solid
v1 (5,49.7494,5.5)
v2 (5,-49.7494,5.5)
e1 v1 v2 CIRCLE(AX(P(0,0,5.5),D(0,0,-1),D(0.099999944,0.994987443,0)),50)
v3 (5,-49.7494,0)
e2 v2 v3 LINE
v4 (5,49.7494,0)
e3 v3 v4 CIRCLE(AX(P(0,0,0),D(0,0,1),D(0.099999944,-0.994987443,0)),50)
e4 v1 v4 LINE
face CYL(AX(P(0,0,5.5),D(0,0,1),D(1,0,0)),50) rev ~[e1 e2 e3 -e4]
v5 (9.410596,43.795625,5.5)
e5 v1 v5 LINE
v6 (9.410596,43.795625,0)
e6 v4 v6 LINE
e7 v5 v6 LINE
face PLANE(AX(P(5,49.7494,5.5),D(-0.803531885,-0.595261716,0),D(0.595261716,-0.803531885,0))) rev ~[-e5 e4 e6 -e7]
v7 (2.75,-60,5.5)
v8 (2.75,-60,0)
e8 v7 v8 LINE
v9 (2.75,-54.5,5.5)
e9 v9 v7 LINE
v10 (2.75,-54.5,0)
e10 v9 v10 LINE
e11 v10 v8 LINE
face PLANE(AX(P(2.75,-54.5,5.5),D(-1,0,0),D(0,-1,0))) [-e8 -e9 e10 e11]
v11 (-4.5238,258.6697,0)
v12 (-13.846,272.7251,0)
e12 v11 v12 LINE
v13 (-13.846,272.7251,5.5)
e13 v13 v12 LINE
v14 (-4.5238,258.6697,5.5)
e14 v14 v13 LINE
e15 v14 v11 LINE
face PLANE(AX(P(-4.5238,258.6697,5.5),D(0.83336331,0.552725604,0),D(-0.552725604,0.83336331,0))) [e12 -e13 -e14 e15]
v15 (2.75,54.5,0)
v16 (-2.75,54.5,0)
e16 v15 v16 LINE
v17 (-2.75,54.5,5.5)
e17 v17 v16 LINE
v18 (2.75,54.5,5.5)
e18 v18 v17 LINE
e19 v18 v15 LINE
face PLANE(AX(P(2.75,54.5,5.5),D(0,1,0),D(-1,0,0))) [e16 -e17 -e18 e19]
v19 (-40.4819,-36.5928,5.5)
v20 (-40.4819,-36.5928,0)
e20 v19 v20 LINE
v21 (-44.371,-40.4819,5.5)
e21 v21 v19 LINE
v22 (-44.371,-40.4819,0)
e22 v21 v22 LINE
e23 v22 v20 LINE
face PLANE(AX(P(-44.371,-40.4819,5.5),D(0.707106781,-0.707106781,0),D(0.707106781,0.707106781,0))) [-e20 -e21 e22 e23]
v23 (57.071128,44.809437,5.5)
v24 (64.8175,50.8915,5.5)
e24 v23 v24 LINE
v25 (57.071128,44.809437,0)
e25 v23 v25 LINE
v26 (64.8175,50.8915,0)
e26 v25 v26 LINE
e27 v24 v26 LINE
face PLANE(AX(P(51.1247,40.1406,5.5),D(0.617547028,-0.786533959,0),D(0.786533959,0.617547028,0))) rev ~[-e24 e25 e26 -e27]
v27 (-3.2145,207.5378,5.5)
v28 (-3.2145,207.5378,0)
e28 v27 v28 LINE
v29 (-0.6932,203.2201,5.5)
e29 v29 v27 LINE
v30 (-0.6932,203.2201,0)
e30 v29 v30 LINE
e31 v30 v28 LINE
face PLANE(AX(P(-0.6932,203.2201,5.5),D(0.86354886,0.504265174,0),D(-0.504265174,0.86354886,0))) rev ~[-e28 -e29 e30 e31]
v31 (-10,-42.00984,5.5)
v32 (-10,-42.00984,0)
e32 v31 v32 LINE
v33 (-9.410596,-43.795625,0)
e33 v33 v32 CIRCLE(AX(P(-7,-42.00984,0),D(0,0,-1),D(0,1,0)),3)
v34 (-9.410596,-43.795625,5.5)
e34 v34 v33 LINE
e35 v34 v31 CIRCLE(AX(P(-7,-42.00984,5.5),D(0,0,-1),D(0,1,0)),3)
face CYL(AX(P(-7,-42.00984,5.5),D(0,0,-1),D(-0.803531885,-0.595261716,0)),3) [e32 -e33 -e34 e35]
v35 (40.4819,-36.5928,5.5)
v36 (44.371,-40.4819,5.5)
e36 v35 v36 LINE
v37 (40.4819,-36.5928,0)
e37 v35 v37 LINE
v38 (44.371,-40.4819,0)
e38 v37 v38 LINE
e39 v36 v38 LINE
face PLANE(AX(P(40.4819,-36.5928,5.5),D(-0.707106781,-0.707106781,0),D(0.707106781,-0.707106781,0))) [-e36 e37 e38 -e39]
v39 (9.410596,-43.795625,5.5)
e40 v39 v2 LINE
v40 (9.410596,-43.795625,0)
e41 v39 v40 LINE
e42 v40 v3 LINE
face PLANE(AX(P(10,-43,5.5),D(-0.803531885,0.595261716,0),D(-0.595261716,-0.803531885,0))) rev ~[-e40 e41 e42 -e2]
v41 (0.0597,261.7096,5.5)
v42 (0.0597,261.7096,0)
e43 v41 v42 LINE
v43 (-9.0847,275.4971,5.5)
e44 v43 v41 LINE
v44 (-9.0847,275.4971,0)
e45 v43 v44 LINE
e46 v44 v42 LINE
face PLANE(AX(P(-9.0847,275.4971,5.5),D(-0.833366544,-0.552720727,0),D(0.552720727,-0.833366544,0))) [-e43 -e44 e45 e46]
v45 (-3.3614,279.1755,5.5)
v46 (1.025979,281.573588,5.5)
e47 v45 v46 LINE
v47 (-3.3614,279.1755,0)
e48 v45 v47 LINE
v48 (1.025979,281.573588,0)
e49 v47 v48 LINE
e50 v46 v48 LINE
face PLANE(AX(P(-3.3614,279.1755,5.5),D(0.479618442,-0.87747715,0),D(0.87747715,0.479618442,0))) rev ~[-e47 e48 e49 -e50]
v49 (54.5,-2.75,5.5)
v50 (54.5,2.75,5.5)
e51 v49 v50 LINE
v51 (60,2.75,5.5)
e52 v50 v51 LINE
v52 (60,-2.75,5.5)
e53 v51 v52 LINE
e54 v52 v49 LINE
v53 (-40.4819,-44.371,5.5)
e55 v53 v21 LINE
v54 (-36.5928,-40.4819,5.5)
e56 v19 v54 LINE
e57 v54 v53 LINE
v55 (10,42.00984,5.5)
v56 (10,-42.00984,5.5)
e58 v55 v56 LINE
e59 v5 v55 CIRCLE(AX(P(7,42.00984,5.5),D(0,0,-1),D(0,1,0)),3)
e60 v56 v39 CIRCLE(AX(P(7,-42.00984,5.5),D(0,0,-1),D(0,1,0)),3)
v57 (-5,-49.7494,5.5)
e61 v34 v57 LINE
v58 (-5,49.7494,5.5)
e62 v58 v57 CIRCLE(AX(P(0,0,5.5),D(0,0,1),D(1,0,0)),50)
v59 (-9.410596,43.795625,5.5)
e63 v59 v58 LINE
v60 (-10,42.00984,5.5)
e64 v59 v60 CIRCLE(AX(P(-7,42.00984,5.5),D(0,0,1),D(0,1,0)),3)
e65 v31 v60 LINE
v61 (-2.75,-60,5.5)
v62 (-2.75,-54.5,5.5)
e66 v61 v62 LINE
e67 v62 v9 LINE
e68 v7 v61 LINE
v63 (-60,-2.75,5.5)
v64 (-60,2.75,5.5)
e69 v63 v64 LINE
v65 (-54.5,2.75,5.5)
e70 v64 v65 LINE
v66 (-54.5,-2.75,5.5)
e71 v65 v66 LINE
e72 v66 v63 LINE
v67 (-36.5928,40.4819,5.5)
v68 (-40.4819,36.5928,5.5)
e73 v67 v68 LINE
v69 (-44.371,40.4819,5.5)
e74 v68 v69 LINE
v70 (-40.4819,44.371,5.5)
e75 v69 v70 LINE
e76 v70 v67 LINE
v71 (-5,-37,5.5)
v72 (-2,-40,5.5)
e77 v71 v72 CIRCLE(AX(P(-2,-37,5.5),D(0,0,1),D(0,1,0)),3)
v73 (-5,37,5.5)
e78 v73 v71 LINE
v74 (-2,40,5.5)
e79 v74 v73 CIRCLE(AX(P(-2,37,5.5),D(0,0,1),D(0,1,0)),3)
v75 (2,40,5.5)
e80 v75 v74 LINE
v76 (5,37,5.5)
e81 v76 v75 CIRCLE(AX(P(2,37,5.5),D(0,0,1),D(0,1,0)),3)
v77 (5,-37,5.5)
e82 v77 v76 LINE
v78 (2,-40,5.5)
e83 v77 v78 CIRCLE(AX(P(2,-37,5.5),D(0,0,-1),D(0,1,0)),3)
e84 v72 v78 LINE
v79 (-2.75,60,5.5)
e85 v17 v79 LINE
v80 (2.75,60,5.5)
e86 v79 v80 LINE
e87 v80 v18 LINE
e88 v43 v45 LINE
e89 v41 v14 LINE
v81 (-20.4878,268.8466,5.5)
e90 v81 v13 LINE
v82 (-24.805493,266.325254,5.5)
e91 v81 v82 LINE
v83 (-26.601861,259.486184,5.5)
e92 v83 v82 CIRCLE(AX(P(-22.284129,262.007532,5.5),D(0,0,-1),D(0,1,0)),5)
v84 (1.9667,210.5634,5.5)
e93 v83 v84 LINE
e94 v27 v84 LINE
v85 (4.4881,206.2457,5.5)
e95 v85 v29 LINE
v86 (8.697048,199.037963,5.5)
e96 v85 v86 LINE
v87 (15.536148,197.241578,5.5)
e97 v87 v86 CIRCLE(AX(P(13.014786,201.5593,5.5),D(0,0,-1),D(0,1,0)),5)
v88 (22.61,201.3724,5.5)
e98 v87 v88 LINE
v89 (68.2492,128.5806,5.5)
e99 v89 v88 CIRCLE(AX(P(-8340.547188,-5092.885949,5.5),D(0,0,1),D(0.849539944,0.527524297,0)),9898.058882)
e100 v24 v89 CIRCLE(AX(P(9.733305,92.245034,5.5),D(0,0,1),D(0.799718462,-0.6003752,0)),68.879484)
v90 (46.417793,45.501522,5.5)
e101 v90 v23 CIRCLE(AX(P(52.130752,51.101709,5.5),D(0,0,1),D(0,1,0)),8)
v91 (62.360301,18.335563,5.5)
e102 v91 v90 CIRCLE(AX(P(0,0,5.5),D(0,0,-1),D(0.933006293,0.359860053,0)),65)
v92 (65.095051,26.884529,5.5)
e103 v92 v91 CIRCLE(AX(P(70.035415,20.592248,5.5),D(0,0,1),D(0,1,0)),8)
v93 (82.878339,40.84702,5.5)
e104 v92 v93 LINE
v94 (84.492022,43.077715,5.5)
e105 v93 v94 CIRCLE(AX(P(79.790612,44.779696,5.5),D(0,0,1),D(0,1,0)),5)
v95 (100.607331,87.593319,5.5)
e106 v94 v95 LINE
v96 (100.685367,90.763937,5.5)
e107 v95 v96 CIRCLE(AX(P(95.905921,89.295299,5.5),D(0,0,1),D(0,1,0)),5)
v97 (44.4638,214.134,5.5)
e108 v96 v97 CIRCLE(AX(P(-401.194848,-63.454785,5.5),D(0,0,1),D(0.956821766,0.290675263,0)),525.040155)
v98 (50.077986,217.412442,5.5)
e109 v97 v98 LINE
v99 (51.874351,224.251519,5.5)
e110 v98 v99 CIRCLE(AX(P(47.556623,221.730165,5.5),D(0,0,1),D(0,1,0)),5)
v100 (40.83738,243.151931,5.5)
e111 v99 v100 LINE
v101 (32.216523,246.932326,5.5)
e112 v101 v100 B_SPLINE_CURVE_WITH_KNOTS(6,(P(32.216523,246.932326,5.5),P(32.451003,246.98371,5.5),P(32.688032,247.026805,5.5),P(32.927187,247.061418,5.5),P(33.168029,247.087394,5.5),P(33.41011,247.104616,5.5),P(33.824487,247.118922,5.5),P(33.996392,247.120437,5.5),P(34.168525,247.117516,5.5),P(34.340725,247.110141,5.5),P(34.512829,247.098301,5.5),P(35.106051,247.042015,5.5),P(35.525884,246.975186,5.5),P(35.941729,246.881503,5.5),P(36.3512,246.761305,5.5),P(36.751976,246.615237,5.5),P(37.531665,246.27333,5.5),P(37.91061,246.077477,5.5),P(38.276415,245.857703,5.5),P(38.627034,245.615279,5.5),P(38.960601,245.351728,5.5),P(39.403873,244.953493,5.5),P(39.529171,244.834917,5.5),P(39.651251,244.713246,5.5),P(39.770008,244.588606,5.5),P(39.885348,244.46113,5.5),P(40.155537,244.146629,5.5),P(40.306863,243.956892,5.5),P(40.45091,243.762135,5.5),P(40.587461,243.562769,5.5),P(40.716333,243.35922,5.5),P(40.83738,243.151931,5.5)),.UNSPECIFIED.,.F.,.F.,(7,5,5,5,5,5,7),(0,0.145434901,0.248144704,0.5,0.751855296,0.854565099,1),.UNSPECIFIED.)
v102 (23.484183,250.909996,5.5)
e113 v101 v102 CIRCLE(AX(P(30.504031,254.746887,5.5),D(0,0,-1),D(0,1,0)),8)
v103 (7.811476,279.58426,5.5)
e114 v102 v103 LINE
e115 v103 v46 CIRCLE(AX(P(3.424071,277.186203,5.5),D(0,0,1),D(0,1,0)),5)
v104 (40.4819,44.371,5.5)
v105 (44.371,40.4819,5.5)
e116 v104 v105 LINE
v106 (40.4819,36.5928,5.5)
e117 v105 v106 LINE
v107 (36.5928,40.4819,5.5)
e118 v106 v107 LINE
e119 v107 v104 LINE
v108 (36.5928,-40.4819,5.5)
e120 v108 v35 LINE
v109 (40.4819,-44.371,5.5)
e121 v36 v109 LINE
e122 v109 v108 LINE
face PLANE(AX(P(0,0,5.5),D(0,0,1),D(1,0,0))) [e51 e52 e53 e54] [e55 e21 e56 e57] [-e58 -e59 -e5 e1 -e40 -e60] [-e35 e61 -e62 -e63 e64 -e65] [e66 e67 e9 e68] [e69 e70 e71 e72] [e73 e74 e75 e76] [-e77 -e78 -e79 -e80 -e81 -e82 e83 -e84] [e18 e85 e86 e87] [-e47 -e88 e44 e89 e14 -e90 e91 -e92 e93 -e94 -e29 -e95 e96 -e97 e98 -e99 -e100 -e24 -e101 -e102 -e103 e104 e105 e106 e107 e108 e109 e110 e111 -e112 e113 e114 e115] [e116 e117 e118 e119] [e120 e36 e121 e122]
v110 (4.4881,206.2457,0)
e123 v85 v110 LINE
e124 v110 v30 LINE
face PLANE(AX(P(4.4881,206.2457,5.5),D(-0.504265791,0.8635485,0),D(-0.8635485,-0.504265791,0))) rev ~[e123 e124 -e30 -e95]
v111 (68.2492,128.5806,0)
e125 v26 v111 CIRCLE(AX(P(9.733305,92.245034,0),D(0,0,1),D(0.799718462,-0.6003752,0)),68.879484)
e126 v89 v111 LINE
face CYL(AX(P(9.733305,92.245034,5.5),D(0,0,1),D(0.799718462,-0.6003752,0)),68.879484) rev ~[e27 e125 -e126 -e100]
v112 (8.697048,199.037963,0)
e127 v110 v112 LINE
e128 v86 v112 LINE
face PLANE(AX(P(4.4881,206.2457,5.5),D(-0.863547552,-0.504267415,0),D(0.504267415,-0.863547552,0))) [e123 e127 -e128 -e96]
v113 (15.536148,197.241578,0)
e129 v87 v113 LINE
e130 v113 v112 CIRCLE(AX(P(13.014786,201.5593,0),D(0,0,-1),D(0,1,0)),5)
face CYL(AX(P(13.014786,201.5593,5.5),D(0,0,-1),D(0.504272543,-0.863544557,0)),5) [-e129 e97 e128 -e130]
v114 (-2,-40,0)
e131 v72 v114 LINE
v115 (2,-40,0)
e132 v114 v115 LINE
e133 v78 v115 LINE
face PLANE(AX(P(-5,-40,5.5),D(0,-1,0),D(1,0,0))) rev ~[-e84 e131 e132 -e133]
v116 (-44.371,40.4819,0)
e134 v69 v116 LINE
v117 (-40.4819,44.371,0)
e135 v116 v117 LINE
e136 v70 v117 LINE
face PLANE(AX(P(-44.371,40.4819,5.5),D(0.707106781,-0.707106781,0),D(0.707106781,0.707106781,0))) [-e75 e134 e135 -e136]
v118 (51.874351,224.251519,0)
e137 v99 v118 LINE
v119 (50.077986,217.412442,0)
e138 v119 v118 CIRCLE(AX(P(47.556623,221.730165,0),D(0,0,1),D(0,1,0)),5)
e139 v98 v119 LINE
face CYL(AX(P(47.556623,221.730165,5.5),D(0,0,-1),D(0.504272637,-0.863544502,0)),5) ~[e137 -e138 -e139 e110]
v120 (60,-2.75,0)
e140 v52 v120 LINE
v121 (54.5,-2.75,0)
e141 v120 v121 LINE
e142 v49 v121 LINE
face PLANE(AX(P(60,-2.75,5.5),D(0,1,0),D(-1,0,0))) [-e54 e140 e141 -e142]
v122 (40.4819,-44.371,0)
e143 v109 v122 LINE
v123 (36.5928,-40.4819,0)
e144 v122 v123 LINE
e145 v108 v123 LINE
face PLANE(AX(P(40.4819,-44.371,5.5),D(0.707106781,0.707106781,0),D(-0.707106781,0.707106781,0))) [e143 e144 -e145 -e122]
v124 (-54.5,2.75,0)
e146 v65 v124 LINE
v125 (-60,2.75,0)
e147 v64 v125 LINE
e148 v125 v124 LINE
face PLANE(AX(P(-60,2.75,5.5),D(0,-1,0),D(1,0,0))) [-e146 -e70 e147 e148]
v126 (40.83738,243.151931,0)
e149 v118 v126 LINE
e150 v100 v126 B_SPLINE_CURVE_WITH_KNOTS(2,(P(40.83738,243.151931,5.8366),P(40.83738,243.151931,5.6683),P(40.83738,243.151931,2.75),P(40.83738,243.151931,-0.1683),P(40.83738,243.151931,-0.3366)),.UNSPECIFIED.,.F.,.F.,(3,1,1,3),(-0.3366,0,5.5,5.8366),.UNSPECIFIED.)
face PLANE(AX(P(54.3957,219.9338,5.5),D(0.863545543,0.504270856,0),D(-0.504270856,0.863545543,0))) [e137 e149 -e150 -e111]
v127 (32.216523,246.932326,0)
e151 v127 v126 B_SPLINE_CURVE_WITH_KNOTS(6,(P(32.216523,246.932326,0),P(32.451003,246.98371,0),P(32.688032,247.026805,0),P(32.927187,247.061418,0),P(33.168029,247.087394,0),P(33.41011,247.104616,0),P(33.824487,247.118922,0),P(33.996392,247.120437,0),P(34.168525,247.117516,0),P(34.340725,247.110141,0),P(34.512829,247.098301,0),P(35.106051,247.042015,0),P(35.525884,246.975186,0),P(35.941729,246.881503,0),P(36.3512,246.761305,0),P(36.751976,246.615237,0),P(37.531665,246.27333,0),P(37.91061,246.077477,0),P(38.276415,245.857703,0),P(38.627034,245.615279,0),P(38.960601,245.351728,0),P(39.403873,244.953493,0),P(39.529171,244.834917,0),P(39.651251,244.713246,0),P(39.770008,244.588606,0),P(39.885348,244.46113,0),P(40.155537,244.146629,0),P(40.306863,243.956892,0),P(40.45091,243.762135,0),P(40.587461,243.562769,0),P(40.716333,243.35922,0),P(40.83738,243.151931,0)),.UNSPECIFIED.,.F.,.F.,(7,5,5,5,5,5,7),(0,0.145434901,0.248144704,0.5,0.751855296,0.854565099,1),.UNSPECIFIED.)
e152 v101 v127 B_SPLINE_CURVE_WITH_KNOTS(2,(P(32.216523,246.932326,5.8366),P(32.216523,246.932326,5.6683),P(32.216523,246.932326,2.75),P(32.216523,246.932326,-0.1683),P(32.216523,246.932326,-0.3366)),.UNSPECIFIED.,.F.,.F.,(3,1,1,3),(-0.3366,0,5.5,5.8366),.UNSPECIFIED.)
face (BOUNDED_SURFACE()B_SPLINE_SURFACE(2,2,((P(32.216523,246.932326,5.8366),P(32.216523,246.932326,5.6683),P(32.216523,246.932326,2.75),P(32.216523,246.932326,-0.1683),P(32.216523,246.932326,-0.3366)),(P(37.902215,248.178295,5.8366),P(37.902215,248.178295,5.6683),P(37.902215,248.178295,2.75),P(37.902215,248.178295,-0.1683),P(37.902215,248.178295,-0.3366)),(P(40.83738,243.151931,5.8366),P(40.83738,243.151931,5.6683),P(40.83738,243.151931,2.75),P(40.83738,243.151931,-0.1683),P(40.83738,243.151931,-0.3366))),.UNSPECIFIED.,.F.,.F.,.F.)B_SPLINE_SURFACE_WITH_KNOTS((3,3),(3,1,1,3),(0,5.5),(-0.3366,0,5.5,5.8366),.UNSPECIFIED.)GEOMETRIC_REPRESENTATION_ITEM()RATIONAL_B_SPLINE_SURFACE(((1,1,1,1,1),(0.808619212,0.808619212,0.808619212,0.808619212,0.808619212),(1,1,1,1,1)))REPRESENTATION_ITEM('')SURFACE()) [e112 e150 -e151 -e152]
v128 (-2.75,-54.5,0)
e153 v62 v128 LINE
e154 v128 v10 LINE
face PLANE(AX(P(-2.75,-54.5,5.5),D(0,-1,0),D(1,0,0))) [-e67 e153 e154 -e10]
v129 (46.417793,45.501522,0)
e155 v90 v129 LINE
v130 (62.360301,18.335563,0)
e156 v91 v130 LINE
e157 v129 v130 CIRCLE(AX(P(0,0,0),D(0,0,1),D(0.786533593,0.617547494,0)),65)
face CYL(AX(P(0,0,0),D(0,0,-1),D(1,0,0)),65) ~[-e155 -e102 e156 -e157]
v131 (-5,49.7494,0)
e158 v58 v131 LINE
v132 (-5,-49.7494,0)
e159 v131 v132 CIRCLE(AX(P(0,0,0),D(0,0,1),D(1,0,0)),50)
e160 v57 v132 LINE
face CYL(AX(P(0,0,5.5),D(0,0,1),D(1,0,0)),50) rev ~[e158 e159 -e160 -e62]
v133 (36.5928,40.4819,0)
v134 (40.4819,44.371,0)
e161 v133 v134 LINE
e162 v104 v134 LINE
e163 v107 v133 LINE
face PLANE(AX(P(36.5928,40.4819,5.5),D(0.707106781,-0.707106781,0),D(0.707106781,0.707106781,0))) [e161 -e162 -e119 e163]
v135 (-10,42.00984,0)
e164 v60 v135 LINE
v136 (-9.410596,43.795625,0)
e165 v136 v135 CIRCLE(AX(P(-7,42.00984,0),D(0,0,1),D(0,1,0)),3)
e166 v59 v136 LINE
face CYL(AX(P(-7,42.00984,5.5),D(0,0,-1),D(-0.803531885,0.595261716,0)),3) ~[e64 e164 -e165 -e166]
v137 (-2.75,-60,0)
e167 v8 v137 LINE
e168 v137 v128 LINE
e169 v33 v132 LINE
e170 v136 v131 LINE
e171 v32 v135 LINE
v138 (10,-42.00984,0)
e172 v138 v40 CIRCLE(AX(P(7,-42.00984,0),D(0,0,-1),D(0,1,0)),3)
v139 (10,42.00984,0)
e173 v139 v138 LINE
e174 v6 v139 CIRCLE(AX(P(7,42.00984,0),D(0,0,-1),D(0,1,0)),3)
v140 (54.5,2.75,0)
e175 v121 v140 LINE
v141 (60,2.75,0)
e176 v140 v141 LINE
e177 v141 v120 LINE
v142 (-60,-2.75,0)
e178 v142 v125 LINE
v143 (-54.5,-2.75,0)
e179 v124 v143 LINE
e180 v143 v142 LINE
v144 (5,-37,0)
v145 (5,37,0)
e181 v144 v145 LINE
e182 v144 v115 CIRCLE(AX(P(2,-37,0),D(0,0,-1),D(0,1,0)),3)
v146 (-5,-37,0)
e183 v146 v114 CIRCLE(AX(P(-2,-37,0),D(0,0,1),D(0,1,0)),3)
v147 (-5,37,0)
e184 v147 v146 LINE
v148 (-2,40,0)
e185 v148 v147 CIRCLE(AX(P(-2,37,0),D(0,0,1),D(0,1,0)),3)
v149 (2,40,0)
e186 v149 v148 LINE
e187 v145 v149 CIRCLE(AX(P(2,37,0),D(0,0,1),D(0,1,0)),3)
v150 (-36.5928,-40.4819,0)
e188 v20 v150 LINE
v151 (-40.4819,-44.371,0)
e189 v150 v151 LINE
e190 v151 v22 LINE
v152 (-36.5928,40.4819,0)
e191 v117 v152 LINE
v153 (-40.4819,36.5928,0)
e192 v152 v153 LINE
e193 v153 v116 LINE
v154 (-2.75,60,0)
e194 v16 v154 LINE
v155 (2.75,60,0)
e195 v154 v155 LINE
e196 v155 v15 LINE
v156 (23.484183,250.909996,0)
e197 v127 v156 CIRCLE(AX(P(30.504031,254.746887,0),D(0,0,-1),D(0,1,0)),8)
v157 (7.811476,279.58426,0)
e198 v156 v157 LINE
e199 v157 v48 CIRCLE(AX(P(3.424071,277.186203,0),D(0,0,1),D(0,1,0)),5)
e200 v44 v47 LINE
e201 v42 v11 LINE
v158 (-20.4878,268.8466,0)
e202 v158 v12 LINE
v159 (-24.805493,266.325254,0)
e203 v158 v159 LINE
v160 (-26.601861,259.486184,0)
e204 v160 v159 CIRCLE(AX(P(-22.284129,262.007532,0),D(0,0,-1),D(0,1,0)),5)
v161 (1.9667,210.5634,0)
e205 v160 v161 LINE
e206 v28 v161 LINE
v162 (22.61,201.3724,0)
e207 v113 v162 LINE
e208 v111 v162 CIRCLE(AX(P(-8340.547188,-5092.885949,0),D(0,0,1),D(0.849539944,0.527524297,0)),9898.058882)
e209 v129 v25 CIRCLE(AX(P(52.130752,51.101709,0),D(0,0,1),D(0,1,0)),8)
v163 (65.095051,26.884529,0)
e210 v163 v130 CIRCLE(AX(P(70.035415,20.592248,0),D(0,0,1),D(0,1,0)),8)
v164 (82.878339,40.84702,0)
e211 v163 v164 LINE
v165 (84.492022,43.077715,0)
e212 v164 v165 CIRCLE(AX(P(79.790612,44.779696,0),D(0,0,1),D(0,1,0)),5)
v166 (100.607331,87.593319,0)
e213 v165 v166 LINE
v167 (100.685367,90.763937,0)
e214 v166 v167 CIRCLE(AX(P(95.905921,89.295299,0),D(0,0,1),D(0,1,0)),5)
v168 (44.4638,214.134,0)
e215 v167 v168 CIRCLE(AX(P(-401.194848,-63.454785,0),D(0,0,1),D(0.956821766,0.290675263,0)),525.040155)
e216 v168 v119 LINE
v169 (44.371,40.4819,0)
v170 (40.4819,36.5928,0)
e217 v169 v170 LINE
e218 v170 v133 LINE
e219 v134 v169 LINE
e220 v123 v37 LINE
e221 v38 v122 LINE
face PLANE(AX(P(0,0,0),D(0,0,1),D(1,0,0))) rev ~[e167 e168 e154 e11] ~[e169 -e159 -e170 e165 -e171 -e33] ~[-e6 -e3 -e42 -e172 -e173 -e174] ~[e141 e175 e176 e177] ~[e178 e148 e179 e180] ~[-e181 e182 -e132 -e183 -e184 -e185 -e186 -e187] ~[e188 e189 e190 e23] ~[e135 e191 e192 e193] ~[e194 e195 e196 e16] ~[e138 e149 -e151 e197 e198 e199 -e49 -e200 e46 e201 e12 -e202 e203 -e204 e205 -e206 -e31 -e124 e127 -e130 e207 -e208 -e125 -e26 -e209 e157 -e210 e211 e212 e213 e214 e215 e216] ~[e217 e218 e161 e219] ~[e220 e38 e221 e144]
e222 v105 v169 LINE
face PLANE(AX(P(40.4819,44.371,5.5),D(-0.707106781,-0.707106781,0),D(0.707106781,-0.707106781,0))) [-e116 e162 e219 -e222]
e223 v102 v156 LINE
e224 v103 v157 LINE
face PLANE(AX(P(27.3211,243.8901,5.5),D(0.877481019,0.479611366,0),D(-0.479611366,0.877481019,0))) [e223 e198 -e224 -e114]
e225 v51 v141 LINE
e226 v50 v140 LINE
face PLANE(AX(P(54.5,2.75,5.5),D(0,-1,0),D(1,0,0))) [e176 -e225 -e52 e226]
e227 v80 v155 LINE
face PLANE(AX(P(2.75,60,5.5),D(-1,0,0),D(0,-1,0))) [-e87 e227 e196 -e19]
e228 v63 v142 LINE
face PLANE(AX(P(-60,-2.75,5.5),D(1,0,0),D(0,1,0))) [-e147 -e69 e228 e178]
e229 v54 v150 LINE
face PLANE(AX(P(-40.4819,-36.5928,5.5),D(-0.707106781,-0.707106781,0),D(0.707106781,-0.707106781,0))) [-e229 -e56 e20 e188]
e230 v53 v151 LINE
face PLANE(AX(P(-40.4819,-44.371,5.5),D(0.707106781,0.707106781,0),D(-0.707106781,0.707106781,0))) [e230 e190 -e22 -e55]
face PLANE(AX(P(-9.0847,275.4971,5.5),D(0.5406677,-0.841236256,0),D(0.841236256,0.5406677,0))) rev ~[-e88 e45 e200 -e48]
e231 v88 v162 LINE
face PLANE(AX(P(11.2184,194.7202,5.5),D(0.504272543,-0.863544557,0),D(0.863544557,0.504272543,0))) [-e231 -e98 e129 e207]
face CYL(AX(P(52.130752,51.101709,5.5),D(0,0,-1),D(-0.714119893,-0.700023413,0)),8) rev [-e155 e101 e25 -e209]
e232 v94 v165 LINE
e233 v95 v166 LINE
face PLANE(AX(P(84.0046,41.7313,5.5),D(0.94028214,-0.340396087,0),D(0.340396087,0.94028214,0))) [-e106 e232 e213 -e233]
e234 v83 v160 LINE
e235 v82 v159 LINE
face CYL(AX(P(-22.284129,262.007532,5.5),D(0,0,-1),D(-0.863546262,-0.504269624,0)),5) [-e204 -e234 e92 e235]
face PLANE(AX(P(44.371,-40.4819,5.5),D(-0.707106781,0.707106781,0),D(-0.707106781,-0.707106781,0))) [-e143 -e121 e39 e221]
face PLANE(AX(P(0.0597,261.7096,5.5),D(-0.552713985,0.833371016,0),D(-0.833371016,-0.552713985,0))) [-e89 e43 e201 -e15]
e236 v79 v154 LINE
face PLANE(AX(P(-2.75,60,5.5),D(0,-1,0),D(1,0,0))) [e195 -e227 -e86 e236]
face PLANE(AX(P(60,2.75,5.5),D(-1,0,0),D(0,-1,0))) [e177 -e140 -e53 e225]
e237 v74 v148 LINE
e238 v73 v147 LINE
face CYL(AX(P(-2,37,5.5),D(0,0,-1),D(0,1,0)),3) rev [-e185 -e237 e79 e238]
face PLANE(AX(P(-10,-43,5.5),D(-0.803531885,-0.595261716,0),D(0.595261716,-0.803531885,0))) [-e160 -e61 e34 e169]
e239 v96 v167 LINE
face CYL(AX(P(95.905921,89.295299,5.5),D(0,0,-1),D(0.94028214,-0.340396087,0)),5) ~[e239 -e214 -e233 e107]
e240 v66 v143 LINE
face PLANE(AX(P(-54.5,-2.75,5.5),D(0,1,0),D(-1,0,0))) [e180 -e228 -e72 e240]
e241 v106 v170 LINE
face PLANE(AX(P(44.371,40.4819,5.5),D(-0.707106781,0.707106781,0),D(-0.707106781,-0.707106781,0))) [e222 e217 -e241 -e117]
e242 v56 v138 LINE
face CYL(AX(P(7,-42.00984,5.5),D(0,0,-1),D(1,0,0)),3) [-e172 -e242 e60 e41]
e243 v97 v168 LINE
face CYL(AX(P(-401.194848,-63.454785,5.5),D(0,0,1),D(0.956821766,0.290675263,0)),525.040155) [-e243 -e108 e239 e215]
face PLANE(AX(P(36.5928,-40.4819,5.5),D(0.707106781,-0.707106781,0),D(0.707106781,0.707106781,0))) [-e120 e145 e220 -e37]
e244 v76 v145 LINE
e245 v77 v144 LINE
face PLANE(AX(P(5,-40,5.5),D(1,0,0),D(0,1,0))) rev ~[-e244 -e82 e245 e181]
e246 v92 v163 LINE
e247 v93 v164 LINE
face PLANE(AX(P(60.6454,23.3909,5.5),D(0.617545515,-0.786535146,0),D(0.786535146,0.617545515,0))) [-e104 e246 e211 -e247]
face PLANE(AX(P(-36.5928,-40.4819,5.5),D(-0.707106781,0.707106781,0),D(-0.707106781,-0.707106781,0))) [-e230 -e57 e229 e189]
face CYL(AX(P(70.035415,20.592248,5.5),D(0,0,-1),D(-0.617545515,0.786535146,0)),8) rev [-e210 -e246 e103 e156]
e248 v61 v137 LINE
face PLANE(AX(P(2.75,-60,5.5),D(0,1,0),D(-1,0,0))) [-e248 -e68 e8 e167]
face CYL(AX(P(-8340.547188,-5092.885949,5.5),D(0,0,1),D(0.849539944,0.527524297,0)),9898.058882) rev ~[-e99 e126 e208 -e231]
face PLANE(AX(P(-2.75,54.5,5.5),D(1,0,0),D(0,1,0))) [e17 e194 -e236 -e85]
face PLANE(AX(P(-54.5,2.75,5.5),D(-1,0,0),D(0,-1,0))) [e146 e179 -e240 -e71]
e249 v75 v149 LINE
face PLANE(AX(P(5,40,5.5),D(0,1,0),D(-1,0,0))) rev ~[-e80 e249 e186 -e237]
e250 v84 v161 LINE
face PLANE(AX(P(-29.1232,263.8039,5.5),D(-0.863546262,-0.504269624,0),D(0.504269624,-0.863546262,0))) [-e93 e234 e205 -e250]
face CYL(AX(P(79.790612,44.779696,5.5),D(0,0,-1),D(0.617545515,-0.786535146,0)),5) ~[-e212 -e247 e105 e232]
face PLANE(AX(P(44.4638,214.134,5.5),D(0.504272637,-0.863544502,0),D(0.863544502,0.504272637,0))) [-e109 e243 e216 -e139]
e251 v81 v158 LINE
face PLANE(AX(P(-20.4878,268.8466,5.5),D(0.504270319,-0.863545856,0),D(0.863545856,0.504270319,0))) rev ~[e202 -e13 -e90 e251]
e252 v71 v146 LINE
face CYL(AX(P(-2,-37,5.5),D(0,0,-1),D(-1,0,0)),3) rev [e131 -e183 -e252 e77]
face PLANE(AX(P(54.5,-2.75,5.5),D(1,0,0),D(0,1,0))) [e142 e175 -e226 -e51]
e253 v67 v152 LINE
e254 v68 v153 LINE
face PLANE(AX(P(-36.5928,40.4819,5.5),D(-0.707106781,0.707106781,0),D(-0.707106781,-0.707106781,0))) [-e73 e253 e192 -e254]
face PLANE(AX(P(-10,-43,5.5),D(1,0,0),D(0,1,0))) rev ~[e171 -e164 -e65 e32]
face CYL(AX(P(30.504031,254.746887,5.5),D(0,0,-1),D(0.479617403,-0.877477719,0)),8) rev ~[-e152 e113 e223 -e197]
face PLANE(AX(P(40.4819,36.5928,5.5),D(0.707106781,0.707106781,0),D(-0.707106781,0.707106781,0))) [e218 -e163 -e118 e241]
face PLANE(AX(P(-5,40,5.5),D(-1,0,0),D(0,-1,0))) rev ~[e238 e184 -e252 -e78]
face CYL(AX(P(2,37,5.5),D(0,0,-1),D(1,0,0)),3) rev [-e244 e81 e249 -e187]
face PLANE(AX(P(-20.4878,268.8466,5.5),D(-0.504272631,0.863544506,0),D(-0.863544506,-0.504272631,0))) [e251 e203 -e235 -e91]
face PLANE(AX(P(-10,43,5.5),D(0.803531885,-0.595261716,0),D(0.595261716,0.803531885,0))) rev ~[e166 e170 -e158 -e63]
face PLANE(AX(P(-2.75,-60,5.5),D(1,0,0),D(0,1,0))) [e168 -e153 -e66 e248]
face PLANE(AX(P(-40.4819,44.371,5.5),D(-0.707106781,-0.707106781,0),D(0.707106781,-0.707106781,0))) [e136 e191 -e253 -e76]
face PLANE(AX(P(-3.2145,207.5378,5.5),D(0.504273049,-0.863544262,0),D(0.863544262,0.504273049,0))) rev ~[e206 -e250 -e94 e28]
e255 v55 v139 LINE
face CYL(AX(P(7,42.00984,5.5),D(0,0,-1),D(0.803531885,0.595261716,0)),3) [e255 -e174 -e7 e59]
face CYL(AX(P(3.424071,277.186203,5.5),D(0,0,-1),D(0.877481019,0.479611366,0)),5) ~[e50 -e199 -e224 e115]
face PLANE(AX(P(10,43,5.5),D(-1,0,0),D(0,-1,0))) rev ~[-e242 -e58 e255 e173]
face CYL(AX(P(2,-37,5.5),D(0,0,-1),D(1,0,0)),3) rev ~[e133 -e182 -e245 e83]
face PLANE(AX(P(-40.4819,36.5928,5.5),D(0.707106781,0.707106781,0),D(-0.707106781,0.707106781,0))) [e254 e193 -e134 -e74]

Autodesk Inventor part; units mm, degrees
ref_plane "YZ Plane" through (0, 0, 0) normal (1, 0, 0) x (0, 1, 0)
ref_plane "XZ Plane" through (0, 0, 0) normal (0, 1, 0) x (-1, 0, 0)
ref_plane "XY Plane" through (0, 0, 0) normal (0, 0, 1) x (1, 0, 0)
sketch "Sketch1" plane through (0, 0, 0) normal (0, 0, 1) x (1, 0, 0)
  circle A0 centre (0, 0) radius 65
  dimension "d0" = 130
extrude "Extrusion1" add sketch "Sketch1" along normal blind 5.5
sketch "Sketch5" plane through (0, 0, 5.5) normal (0, 0, 1) x (1, 0, 0)
  line L0 (54.5, 2.75) -> (60, 2.75)
  line L1 (60, 2.75) -> (60, -2.75)
  line L2 (60, -2.75) -> (54.5, -2.75)
  line L3 (54.5, -2.75) -> (54.5, 2.75)
  line L4 (36.5928, 40.4819) -> (40.4819, 44.371)
  line L5 (40.4819, 44.371) -> (44.371, 40.4819)
  line L6 (44.371, 40.4819) -> (40.4819, 36.5928)
  line L7 (40.4819, 36.5928) -> (36.5928, 40.4819)
  line L8 (-2.75, 54.5) -> (-2.75, 60)
  line L9 (-2.75, 60) -> (2.75, 60)
  line L10 (2.75, 60) -> (2.75, 54.5)
  line L11 (2.75, 54.5) -> (-2.75, 54.5)
  line L12 (-40.4819, 36.5928) -> (-44.371, 40.4819)
  line L13 (-44.371, 40.4819) -> (-40.4819, 44.371)
  line L14 (-40.4819, 44.371) -> (-36.5928, 40.4819)
  line L15 (-36.5928, 40.4819) -> (-40.4819, 36.5928)
  line L16 (-54.5, -2.75) -> (-60, -2.75)
  line L17 (-60, -2.75) -> (-60, 2.75)
  line L18 (-60, 2.75) -> (-54.5, 2.75)
  line L19 (-54.5, 2.75) -> (-54.5, -2.75)
  line L20 (-36.5928, -40.4819) -> (-40.4819, -44.371)
  line L21 (-40.4819, -44.371) -> (-44.371, -40.4819)
  line L22 (-44.371, -40.4819) -> (-40.4819, -36.5928)
  line L23 (-40.4819, -36.5928) -> (-36.5928, -40.4819)
  line L24 (2.75, -54.5) -> (2.75, -60)
  line L25 (2.75, -60) -> (-2.75, -60)
  line L26 (-2.75, -60) -> (-2.75, -54.5)
  line L27 (-2.75, -54.5) -> (2.75, -54.5)
  line L28 (40.4819, -36.5928) -> (44.371, -40.4819)
  line L29 (44.371, -40.4819) -> (40.4819, -44.371)
  line L30 (40.4819, -44.371) -> (36.5928, -40.4819)
  line L31 (36.5928, -40.4819) -> (40.4819, -36.5928)
  point P0 (0, 0)
  dimension "d30" = 5.5
  dimension "d31" = 5.5
  dimension "d34" = 360
extrude "Extrusion5" cut sketch "Sketch5" against normal blind 10
sketch "Sketch7" plane through (0, 0, 5.5) normal (0, 0, 1) x (1, 0, 0)
  circle A0 centre (0, 0) radius 65 projected
  line L0 (51.1247, 40.1406) -> (64.8175, 50.8915)
  line L1 (60.6454, 23.3909) -> (84.0046, 41.7313)
  line L2 (84.0046, 41.7313) -> (101.175, 89.1614)
  arc A1 (68.2492, 128.5806) -> (22.61, 201.3724) centre (-8338.3582, -5091.5201) ccw
  arc A2 (101.175, 89.1614) -> (44.4638, 214.134) centre (-401.1925, -63.4539) ccw
  arc A3 (64.8175, 50.8915) -> (68.2492, 128.5806) centre (9.7334, 92.245) ccw
  line L3 (-9.0847, 275.4971) -> (0.0597, 261.7096)
  line L4 (0.0597, 261.7096) -> (-4.5238, 258.6697)
  line L5 (-4.5238, 258.6697) -> (-13.846, 272.7251)
  line L6 (-20.4878, 268.8466) -> (-13.846, 272.7251)
  line L7 (-9.0847, 275.4971) -> (-3.3614, 279.1755)
  line L8 (-20.4878, 268.8466) -> (-29.1232, 263.8039)
  line L9 (-3.3614, 279.1755) -> (5.4134, 283.9717)
  line L10 (11.2184, 194.7202) -> (22.61, 201.3724)
  line L11 (44.4638, 214.134) -> (54.3957, 219.9338)
  line L12 (4.4881, 206.2457) -> (-0.6932, 203.2201)
  line L13 (-0.6932, 203.2201) -> (-3.2145, 207.5378)
  line L14 (-3.2145, 207.5378) -> (1.9667, 210.5634)
  line L15 (-29.1232, 263.8039) -> (1.9667, 210.5634)
  line L16 (4.4881, 206.2457) -> (11.2184, 194.7202)
  line L17 (54.3957, 219.9338) -> (37.2403, 249.3118)
  line L18 (37.2403, 249.3118) -> (27.3211, 243.8901)
  line L19 (27.3211, 243.8901) -> (5.4134, 283.9717)
  dimension "d40" = 250
  dimension "d41" = 20
  dimension "d50" = 5.5
  dimension "d53" = 10
  dimension "d54" = 80
  dimension "d55" = 50
  dimension "d56" = 10
  dimension "d57" = 6
  dimension "d58" = 5
extrude "Extrusion6" add sketch "Sketch7" against normal blind 5.5 contours A0 L0 A3 A1 L10 L16 L12 L13 L14 L15 L8 L6 L5 L4 L3 L7 L9 L19 L18 L17 L11 A2 L2 L1
sketch "Sketch8" plane through (0, 0, 5.5) normal (0, 0, 1) x (1, 0, 0)
  circle A0 centre (0, 0) radius 50
  line L0 (10, 43) -> (10, -43)
  line L1 (-10, -43) -> (-10, 43)
  line L2 (5, 40) -> (-5, 40)
  line L3 (-5, 40) -> (-5, -40)
  line L4 (-5, -40) -> (5, -40)
  line L5 (5, -40) -> (5, 40)
  line L6 (10, -43) -> (5, -49.7494)
  line L7 (-10, -43) -> (-5, -49.7494)
  line L8 (-10, 43) -> (-5, 49.7494)
  line L9 (5, 49.7494) -> (10, 43)
  dimension "d44" = 100
  dimension "d45" = 10
  dimension "d46" = 80
extrude "Extrusion7" cut sketch "Sketch8" against normal blind 5.5 contours A0 L6 L0 L9 | L8 L1 L7 A0 | L5 L4 L3 L2
fillet "Fillet1" radius 3 8 edges at (10, 43, 2.75) (10, -43, 2.75) (-5, 40, 2.75) (-10, -43, 2.75) (5, 40, 2.75) (-10, 43, 2.75) (-5, -40, 2.75) (5, -40, 2.75)
fillet "Fillet2" radius 5 2 edges at (101.175, 89.1614, 2.75) (84.0046, 41.7313, 2.75)
fillet "Fillet3" radius 8 2 edges at (60.6454, 23.3909, 2.75) (51.1247, 40.1406, 2.75)
fillet "Fillet4" radius 5 4 edges at (54.3957, 219.9338, 2.75) (11.2184, 194.7202, 2.75) (5.4134, 283.9717, 2.75) (-29.1232, 263.8039, 2.75)
fillet "Fillet5" radius 8 2 edges at (27.3211, 243.8901, 2.75) (37.2403, 249.3118, 2.75)
properties part number "base"
